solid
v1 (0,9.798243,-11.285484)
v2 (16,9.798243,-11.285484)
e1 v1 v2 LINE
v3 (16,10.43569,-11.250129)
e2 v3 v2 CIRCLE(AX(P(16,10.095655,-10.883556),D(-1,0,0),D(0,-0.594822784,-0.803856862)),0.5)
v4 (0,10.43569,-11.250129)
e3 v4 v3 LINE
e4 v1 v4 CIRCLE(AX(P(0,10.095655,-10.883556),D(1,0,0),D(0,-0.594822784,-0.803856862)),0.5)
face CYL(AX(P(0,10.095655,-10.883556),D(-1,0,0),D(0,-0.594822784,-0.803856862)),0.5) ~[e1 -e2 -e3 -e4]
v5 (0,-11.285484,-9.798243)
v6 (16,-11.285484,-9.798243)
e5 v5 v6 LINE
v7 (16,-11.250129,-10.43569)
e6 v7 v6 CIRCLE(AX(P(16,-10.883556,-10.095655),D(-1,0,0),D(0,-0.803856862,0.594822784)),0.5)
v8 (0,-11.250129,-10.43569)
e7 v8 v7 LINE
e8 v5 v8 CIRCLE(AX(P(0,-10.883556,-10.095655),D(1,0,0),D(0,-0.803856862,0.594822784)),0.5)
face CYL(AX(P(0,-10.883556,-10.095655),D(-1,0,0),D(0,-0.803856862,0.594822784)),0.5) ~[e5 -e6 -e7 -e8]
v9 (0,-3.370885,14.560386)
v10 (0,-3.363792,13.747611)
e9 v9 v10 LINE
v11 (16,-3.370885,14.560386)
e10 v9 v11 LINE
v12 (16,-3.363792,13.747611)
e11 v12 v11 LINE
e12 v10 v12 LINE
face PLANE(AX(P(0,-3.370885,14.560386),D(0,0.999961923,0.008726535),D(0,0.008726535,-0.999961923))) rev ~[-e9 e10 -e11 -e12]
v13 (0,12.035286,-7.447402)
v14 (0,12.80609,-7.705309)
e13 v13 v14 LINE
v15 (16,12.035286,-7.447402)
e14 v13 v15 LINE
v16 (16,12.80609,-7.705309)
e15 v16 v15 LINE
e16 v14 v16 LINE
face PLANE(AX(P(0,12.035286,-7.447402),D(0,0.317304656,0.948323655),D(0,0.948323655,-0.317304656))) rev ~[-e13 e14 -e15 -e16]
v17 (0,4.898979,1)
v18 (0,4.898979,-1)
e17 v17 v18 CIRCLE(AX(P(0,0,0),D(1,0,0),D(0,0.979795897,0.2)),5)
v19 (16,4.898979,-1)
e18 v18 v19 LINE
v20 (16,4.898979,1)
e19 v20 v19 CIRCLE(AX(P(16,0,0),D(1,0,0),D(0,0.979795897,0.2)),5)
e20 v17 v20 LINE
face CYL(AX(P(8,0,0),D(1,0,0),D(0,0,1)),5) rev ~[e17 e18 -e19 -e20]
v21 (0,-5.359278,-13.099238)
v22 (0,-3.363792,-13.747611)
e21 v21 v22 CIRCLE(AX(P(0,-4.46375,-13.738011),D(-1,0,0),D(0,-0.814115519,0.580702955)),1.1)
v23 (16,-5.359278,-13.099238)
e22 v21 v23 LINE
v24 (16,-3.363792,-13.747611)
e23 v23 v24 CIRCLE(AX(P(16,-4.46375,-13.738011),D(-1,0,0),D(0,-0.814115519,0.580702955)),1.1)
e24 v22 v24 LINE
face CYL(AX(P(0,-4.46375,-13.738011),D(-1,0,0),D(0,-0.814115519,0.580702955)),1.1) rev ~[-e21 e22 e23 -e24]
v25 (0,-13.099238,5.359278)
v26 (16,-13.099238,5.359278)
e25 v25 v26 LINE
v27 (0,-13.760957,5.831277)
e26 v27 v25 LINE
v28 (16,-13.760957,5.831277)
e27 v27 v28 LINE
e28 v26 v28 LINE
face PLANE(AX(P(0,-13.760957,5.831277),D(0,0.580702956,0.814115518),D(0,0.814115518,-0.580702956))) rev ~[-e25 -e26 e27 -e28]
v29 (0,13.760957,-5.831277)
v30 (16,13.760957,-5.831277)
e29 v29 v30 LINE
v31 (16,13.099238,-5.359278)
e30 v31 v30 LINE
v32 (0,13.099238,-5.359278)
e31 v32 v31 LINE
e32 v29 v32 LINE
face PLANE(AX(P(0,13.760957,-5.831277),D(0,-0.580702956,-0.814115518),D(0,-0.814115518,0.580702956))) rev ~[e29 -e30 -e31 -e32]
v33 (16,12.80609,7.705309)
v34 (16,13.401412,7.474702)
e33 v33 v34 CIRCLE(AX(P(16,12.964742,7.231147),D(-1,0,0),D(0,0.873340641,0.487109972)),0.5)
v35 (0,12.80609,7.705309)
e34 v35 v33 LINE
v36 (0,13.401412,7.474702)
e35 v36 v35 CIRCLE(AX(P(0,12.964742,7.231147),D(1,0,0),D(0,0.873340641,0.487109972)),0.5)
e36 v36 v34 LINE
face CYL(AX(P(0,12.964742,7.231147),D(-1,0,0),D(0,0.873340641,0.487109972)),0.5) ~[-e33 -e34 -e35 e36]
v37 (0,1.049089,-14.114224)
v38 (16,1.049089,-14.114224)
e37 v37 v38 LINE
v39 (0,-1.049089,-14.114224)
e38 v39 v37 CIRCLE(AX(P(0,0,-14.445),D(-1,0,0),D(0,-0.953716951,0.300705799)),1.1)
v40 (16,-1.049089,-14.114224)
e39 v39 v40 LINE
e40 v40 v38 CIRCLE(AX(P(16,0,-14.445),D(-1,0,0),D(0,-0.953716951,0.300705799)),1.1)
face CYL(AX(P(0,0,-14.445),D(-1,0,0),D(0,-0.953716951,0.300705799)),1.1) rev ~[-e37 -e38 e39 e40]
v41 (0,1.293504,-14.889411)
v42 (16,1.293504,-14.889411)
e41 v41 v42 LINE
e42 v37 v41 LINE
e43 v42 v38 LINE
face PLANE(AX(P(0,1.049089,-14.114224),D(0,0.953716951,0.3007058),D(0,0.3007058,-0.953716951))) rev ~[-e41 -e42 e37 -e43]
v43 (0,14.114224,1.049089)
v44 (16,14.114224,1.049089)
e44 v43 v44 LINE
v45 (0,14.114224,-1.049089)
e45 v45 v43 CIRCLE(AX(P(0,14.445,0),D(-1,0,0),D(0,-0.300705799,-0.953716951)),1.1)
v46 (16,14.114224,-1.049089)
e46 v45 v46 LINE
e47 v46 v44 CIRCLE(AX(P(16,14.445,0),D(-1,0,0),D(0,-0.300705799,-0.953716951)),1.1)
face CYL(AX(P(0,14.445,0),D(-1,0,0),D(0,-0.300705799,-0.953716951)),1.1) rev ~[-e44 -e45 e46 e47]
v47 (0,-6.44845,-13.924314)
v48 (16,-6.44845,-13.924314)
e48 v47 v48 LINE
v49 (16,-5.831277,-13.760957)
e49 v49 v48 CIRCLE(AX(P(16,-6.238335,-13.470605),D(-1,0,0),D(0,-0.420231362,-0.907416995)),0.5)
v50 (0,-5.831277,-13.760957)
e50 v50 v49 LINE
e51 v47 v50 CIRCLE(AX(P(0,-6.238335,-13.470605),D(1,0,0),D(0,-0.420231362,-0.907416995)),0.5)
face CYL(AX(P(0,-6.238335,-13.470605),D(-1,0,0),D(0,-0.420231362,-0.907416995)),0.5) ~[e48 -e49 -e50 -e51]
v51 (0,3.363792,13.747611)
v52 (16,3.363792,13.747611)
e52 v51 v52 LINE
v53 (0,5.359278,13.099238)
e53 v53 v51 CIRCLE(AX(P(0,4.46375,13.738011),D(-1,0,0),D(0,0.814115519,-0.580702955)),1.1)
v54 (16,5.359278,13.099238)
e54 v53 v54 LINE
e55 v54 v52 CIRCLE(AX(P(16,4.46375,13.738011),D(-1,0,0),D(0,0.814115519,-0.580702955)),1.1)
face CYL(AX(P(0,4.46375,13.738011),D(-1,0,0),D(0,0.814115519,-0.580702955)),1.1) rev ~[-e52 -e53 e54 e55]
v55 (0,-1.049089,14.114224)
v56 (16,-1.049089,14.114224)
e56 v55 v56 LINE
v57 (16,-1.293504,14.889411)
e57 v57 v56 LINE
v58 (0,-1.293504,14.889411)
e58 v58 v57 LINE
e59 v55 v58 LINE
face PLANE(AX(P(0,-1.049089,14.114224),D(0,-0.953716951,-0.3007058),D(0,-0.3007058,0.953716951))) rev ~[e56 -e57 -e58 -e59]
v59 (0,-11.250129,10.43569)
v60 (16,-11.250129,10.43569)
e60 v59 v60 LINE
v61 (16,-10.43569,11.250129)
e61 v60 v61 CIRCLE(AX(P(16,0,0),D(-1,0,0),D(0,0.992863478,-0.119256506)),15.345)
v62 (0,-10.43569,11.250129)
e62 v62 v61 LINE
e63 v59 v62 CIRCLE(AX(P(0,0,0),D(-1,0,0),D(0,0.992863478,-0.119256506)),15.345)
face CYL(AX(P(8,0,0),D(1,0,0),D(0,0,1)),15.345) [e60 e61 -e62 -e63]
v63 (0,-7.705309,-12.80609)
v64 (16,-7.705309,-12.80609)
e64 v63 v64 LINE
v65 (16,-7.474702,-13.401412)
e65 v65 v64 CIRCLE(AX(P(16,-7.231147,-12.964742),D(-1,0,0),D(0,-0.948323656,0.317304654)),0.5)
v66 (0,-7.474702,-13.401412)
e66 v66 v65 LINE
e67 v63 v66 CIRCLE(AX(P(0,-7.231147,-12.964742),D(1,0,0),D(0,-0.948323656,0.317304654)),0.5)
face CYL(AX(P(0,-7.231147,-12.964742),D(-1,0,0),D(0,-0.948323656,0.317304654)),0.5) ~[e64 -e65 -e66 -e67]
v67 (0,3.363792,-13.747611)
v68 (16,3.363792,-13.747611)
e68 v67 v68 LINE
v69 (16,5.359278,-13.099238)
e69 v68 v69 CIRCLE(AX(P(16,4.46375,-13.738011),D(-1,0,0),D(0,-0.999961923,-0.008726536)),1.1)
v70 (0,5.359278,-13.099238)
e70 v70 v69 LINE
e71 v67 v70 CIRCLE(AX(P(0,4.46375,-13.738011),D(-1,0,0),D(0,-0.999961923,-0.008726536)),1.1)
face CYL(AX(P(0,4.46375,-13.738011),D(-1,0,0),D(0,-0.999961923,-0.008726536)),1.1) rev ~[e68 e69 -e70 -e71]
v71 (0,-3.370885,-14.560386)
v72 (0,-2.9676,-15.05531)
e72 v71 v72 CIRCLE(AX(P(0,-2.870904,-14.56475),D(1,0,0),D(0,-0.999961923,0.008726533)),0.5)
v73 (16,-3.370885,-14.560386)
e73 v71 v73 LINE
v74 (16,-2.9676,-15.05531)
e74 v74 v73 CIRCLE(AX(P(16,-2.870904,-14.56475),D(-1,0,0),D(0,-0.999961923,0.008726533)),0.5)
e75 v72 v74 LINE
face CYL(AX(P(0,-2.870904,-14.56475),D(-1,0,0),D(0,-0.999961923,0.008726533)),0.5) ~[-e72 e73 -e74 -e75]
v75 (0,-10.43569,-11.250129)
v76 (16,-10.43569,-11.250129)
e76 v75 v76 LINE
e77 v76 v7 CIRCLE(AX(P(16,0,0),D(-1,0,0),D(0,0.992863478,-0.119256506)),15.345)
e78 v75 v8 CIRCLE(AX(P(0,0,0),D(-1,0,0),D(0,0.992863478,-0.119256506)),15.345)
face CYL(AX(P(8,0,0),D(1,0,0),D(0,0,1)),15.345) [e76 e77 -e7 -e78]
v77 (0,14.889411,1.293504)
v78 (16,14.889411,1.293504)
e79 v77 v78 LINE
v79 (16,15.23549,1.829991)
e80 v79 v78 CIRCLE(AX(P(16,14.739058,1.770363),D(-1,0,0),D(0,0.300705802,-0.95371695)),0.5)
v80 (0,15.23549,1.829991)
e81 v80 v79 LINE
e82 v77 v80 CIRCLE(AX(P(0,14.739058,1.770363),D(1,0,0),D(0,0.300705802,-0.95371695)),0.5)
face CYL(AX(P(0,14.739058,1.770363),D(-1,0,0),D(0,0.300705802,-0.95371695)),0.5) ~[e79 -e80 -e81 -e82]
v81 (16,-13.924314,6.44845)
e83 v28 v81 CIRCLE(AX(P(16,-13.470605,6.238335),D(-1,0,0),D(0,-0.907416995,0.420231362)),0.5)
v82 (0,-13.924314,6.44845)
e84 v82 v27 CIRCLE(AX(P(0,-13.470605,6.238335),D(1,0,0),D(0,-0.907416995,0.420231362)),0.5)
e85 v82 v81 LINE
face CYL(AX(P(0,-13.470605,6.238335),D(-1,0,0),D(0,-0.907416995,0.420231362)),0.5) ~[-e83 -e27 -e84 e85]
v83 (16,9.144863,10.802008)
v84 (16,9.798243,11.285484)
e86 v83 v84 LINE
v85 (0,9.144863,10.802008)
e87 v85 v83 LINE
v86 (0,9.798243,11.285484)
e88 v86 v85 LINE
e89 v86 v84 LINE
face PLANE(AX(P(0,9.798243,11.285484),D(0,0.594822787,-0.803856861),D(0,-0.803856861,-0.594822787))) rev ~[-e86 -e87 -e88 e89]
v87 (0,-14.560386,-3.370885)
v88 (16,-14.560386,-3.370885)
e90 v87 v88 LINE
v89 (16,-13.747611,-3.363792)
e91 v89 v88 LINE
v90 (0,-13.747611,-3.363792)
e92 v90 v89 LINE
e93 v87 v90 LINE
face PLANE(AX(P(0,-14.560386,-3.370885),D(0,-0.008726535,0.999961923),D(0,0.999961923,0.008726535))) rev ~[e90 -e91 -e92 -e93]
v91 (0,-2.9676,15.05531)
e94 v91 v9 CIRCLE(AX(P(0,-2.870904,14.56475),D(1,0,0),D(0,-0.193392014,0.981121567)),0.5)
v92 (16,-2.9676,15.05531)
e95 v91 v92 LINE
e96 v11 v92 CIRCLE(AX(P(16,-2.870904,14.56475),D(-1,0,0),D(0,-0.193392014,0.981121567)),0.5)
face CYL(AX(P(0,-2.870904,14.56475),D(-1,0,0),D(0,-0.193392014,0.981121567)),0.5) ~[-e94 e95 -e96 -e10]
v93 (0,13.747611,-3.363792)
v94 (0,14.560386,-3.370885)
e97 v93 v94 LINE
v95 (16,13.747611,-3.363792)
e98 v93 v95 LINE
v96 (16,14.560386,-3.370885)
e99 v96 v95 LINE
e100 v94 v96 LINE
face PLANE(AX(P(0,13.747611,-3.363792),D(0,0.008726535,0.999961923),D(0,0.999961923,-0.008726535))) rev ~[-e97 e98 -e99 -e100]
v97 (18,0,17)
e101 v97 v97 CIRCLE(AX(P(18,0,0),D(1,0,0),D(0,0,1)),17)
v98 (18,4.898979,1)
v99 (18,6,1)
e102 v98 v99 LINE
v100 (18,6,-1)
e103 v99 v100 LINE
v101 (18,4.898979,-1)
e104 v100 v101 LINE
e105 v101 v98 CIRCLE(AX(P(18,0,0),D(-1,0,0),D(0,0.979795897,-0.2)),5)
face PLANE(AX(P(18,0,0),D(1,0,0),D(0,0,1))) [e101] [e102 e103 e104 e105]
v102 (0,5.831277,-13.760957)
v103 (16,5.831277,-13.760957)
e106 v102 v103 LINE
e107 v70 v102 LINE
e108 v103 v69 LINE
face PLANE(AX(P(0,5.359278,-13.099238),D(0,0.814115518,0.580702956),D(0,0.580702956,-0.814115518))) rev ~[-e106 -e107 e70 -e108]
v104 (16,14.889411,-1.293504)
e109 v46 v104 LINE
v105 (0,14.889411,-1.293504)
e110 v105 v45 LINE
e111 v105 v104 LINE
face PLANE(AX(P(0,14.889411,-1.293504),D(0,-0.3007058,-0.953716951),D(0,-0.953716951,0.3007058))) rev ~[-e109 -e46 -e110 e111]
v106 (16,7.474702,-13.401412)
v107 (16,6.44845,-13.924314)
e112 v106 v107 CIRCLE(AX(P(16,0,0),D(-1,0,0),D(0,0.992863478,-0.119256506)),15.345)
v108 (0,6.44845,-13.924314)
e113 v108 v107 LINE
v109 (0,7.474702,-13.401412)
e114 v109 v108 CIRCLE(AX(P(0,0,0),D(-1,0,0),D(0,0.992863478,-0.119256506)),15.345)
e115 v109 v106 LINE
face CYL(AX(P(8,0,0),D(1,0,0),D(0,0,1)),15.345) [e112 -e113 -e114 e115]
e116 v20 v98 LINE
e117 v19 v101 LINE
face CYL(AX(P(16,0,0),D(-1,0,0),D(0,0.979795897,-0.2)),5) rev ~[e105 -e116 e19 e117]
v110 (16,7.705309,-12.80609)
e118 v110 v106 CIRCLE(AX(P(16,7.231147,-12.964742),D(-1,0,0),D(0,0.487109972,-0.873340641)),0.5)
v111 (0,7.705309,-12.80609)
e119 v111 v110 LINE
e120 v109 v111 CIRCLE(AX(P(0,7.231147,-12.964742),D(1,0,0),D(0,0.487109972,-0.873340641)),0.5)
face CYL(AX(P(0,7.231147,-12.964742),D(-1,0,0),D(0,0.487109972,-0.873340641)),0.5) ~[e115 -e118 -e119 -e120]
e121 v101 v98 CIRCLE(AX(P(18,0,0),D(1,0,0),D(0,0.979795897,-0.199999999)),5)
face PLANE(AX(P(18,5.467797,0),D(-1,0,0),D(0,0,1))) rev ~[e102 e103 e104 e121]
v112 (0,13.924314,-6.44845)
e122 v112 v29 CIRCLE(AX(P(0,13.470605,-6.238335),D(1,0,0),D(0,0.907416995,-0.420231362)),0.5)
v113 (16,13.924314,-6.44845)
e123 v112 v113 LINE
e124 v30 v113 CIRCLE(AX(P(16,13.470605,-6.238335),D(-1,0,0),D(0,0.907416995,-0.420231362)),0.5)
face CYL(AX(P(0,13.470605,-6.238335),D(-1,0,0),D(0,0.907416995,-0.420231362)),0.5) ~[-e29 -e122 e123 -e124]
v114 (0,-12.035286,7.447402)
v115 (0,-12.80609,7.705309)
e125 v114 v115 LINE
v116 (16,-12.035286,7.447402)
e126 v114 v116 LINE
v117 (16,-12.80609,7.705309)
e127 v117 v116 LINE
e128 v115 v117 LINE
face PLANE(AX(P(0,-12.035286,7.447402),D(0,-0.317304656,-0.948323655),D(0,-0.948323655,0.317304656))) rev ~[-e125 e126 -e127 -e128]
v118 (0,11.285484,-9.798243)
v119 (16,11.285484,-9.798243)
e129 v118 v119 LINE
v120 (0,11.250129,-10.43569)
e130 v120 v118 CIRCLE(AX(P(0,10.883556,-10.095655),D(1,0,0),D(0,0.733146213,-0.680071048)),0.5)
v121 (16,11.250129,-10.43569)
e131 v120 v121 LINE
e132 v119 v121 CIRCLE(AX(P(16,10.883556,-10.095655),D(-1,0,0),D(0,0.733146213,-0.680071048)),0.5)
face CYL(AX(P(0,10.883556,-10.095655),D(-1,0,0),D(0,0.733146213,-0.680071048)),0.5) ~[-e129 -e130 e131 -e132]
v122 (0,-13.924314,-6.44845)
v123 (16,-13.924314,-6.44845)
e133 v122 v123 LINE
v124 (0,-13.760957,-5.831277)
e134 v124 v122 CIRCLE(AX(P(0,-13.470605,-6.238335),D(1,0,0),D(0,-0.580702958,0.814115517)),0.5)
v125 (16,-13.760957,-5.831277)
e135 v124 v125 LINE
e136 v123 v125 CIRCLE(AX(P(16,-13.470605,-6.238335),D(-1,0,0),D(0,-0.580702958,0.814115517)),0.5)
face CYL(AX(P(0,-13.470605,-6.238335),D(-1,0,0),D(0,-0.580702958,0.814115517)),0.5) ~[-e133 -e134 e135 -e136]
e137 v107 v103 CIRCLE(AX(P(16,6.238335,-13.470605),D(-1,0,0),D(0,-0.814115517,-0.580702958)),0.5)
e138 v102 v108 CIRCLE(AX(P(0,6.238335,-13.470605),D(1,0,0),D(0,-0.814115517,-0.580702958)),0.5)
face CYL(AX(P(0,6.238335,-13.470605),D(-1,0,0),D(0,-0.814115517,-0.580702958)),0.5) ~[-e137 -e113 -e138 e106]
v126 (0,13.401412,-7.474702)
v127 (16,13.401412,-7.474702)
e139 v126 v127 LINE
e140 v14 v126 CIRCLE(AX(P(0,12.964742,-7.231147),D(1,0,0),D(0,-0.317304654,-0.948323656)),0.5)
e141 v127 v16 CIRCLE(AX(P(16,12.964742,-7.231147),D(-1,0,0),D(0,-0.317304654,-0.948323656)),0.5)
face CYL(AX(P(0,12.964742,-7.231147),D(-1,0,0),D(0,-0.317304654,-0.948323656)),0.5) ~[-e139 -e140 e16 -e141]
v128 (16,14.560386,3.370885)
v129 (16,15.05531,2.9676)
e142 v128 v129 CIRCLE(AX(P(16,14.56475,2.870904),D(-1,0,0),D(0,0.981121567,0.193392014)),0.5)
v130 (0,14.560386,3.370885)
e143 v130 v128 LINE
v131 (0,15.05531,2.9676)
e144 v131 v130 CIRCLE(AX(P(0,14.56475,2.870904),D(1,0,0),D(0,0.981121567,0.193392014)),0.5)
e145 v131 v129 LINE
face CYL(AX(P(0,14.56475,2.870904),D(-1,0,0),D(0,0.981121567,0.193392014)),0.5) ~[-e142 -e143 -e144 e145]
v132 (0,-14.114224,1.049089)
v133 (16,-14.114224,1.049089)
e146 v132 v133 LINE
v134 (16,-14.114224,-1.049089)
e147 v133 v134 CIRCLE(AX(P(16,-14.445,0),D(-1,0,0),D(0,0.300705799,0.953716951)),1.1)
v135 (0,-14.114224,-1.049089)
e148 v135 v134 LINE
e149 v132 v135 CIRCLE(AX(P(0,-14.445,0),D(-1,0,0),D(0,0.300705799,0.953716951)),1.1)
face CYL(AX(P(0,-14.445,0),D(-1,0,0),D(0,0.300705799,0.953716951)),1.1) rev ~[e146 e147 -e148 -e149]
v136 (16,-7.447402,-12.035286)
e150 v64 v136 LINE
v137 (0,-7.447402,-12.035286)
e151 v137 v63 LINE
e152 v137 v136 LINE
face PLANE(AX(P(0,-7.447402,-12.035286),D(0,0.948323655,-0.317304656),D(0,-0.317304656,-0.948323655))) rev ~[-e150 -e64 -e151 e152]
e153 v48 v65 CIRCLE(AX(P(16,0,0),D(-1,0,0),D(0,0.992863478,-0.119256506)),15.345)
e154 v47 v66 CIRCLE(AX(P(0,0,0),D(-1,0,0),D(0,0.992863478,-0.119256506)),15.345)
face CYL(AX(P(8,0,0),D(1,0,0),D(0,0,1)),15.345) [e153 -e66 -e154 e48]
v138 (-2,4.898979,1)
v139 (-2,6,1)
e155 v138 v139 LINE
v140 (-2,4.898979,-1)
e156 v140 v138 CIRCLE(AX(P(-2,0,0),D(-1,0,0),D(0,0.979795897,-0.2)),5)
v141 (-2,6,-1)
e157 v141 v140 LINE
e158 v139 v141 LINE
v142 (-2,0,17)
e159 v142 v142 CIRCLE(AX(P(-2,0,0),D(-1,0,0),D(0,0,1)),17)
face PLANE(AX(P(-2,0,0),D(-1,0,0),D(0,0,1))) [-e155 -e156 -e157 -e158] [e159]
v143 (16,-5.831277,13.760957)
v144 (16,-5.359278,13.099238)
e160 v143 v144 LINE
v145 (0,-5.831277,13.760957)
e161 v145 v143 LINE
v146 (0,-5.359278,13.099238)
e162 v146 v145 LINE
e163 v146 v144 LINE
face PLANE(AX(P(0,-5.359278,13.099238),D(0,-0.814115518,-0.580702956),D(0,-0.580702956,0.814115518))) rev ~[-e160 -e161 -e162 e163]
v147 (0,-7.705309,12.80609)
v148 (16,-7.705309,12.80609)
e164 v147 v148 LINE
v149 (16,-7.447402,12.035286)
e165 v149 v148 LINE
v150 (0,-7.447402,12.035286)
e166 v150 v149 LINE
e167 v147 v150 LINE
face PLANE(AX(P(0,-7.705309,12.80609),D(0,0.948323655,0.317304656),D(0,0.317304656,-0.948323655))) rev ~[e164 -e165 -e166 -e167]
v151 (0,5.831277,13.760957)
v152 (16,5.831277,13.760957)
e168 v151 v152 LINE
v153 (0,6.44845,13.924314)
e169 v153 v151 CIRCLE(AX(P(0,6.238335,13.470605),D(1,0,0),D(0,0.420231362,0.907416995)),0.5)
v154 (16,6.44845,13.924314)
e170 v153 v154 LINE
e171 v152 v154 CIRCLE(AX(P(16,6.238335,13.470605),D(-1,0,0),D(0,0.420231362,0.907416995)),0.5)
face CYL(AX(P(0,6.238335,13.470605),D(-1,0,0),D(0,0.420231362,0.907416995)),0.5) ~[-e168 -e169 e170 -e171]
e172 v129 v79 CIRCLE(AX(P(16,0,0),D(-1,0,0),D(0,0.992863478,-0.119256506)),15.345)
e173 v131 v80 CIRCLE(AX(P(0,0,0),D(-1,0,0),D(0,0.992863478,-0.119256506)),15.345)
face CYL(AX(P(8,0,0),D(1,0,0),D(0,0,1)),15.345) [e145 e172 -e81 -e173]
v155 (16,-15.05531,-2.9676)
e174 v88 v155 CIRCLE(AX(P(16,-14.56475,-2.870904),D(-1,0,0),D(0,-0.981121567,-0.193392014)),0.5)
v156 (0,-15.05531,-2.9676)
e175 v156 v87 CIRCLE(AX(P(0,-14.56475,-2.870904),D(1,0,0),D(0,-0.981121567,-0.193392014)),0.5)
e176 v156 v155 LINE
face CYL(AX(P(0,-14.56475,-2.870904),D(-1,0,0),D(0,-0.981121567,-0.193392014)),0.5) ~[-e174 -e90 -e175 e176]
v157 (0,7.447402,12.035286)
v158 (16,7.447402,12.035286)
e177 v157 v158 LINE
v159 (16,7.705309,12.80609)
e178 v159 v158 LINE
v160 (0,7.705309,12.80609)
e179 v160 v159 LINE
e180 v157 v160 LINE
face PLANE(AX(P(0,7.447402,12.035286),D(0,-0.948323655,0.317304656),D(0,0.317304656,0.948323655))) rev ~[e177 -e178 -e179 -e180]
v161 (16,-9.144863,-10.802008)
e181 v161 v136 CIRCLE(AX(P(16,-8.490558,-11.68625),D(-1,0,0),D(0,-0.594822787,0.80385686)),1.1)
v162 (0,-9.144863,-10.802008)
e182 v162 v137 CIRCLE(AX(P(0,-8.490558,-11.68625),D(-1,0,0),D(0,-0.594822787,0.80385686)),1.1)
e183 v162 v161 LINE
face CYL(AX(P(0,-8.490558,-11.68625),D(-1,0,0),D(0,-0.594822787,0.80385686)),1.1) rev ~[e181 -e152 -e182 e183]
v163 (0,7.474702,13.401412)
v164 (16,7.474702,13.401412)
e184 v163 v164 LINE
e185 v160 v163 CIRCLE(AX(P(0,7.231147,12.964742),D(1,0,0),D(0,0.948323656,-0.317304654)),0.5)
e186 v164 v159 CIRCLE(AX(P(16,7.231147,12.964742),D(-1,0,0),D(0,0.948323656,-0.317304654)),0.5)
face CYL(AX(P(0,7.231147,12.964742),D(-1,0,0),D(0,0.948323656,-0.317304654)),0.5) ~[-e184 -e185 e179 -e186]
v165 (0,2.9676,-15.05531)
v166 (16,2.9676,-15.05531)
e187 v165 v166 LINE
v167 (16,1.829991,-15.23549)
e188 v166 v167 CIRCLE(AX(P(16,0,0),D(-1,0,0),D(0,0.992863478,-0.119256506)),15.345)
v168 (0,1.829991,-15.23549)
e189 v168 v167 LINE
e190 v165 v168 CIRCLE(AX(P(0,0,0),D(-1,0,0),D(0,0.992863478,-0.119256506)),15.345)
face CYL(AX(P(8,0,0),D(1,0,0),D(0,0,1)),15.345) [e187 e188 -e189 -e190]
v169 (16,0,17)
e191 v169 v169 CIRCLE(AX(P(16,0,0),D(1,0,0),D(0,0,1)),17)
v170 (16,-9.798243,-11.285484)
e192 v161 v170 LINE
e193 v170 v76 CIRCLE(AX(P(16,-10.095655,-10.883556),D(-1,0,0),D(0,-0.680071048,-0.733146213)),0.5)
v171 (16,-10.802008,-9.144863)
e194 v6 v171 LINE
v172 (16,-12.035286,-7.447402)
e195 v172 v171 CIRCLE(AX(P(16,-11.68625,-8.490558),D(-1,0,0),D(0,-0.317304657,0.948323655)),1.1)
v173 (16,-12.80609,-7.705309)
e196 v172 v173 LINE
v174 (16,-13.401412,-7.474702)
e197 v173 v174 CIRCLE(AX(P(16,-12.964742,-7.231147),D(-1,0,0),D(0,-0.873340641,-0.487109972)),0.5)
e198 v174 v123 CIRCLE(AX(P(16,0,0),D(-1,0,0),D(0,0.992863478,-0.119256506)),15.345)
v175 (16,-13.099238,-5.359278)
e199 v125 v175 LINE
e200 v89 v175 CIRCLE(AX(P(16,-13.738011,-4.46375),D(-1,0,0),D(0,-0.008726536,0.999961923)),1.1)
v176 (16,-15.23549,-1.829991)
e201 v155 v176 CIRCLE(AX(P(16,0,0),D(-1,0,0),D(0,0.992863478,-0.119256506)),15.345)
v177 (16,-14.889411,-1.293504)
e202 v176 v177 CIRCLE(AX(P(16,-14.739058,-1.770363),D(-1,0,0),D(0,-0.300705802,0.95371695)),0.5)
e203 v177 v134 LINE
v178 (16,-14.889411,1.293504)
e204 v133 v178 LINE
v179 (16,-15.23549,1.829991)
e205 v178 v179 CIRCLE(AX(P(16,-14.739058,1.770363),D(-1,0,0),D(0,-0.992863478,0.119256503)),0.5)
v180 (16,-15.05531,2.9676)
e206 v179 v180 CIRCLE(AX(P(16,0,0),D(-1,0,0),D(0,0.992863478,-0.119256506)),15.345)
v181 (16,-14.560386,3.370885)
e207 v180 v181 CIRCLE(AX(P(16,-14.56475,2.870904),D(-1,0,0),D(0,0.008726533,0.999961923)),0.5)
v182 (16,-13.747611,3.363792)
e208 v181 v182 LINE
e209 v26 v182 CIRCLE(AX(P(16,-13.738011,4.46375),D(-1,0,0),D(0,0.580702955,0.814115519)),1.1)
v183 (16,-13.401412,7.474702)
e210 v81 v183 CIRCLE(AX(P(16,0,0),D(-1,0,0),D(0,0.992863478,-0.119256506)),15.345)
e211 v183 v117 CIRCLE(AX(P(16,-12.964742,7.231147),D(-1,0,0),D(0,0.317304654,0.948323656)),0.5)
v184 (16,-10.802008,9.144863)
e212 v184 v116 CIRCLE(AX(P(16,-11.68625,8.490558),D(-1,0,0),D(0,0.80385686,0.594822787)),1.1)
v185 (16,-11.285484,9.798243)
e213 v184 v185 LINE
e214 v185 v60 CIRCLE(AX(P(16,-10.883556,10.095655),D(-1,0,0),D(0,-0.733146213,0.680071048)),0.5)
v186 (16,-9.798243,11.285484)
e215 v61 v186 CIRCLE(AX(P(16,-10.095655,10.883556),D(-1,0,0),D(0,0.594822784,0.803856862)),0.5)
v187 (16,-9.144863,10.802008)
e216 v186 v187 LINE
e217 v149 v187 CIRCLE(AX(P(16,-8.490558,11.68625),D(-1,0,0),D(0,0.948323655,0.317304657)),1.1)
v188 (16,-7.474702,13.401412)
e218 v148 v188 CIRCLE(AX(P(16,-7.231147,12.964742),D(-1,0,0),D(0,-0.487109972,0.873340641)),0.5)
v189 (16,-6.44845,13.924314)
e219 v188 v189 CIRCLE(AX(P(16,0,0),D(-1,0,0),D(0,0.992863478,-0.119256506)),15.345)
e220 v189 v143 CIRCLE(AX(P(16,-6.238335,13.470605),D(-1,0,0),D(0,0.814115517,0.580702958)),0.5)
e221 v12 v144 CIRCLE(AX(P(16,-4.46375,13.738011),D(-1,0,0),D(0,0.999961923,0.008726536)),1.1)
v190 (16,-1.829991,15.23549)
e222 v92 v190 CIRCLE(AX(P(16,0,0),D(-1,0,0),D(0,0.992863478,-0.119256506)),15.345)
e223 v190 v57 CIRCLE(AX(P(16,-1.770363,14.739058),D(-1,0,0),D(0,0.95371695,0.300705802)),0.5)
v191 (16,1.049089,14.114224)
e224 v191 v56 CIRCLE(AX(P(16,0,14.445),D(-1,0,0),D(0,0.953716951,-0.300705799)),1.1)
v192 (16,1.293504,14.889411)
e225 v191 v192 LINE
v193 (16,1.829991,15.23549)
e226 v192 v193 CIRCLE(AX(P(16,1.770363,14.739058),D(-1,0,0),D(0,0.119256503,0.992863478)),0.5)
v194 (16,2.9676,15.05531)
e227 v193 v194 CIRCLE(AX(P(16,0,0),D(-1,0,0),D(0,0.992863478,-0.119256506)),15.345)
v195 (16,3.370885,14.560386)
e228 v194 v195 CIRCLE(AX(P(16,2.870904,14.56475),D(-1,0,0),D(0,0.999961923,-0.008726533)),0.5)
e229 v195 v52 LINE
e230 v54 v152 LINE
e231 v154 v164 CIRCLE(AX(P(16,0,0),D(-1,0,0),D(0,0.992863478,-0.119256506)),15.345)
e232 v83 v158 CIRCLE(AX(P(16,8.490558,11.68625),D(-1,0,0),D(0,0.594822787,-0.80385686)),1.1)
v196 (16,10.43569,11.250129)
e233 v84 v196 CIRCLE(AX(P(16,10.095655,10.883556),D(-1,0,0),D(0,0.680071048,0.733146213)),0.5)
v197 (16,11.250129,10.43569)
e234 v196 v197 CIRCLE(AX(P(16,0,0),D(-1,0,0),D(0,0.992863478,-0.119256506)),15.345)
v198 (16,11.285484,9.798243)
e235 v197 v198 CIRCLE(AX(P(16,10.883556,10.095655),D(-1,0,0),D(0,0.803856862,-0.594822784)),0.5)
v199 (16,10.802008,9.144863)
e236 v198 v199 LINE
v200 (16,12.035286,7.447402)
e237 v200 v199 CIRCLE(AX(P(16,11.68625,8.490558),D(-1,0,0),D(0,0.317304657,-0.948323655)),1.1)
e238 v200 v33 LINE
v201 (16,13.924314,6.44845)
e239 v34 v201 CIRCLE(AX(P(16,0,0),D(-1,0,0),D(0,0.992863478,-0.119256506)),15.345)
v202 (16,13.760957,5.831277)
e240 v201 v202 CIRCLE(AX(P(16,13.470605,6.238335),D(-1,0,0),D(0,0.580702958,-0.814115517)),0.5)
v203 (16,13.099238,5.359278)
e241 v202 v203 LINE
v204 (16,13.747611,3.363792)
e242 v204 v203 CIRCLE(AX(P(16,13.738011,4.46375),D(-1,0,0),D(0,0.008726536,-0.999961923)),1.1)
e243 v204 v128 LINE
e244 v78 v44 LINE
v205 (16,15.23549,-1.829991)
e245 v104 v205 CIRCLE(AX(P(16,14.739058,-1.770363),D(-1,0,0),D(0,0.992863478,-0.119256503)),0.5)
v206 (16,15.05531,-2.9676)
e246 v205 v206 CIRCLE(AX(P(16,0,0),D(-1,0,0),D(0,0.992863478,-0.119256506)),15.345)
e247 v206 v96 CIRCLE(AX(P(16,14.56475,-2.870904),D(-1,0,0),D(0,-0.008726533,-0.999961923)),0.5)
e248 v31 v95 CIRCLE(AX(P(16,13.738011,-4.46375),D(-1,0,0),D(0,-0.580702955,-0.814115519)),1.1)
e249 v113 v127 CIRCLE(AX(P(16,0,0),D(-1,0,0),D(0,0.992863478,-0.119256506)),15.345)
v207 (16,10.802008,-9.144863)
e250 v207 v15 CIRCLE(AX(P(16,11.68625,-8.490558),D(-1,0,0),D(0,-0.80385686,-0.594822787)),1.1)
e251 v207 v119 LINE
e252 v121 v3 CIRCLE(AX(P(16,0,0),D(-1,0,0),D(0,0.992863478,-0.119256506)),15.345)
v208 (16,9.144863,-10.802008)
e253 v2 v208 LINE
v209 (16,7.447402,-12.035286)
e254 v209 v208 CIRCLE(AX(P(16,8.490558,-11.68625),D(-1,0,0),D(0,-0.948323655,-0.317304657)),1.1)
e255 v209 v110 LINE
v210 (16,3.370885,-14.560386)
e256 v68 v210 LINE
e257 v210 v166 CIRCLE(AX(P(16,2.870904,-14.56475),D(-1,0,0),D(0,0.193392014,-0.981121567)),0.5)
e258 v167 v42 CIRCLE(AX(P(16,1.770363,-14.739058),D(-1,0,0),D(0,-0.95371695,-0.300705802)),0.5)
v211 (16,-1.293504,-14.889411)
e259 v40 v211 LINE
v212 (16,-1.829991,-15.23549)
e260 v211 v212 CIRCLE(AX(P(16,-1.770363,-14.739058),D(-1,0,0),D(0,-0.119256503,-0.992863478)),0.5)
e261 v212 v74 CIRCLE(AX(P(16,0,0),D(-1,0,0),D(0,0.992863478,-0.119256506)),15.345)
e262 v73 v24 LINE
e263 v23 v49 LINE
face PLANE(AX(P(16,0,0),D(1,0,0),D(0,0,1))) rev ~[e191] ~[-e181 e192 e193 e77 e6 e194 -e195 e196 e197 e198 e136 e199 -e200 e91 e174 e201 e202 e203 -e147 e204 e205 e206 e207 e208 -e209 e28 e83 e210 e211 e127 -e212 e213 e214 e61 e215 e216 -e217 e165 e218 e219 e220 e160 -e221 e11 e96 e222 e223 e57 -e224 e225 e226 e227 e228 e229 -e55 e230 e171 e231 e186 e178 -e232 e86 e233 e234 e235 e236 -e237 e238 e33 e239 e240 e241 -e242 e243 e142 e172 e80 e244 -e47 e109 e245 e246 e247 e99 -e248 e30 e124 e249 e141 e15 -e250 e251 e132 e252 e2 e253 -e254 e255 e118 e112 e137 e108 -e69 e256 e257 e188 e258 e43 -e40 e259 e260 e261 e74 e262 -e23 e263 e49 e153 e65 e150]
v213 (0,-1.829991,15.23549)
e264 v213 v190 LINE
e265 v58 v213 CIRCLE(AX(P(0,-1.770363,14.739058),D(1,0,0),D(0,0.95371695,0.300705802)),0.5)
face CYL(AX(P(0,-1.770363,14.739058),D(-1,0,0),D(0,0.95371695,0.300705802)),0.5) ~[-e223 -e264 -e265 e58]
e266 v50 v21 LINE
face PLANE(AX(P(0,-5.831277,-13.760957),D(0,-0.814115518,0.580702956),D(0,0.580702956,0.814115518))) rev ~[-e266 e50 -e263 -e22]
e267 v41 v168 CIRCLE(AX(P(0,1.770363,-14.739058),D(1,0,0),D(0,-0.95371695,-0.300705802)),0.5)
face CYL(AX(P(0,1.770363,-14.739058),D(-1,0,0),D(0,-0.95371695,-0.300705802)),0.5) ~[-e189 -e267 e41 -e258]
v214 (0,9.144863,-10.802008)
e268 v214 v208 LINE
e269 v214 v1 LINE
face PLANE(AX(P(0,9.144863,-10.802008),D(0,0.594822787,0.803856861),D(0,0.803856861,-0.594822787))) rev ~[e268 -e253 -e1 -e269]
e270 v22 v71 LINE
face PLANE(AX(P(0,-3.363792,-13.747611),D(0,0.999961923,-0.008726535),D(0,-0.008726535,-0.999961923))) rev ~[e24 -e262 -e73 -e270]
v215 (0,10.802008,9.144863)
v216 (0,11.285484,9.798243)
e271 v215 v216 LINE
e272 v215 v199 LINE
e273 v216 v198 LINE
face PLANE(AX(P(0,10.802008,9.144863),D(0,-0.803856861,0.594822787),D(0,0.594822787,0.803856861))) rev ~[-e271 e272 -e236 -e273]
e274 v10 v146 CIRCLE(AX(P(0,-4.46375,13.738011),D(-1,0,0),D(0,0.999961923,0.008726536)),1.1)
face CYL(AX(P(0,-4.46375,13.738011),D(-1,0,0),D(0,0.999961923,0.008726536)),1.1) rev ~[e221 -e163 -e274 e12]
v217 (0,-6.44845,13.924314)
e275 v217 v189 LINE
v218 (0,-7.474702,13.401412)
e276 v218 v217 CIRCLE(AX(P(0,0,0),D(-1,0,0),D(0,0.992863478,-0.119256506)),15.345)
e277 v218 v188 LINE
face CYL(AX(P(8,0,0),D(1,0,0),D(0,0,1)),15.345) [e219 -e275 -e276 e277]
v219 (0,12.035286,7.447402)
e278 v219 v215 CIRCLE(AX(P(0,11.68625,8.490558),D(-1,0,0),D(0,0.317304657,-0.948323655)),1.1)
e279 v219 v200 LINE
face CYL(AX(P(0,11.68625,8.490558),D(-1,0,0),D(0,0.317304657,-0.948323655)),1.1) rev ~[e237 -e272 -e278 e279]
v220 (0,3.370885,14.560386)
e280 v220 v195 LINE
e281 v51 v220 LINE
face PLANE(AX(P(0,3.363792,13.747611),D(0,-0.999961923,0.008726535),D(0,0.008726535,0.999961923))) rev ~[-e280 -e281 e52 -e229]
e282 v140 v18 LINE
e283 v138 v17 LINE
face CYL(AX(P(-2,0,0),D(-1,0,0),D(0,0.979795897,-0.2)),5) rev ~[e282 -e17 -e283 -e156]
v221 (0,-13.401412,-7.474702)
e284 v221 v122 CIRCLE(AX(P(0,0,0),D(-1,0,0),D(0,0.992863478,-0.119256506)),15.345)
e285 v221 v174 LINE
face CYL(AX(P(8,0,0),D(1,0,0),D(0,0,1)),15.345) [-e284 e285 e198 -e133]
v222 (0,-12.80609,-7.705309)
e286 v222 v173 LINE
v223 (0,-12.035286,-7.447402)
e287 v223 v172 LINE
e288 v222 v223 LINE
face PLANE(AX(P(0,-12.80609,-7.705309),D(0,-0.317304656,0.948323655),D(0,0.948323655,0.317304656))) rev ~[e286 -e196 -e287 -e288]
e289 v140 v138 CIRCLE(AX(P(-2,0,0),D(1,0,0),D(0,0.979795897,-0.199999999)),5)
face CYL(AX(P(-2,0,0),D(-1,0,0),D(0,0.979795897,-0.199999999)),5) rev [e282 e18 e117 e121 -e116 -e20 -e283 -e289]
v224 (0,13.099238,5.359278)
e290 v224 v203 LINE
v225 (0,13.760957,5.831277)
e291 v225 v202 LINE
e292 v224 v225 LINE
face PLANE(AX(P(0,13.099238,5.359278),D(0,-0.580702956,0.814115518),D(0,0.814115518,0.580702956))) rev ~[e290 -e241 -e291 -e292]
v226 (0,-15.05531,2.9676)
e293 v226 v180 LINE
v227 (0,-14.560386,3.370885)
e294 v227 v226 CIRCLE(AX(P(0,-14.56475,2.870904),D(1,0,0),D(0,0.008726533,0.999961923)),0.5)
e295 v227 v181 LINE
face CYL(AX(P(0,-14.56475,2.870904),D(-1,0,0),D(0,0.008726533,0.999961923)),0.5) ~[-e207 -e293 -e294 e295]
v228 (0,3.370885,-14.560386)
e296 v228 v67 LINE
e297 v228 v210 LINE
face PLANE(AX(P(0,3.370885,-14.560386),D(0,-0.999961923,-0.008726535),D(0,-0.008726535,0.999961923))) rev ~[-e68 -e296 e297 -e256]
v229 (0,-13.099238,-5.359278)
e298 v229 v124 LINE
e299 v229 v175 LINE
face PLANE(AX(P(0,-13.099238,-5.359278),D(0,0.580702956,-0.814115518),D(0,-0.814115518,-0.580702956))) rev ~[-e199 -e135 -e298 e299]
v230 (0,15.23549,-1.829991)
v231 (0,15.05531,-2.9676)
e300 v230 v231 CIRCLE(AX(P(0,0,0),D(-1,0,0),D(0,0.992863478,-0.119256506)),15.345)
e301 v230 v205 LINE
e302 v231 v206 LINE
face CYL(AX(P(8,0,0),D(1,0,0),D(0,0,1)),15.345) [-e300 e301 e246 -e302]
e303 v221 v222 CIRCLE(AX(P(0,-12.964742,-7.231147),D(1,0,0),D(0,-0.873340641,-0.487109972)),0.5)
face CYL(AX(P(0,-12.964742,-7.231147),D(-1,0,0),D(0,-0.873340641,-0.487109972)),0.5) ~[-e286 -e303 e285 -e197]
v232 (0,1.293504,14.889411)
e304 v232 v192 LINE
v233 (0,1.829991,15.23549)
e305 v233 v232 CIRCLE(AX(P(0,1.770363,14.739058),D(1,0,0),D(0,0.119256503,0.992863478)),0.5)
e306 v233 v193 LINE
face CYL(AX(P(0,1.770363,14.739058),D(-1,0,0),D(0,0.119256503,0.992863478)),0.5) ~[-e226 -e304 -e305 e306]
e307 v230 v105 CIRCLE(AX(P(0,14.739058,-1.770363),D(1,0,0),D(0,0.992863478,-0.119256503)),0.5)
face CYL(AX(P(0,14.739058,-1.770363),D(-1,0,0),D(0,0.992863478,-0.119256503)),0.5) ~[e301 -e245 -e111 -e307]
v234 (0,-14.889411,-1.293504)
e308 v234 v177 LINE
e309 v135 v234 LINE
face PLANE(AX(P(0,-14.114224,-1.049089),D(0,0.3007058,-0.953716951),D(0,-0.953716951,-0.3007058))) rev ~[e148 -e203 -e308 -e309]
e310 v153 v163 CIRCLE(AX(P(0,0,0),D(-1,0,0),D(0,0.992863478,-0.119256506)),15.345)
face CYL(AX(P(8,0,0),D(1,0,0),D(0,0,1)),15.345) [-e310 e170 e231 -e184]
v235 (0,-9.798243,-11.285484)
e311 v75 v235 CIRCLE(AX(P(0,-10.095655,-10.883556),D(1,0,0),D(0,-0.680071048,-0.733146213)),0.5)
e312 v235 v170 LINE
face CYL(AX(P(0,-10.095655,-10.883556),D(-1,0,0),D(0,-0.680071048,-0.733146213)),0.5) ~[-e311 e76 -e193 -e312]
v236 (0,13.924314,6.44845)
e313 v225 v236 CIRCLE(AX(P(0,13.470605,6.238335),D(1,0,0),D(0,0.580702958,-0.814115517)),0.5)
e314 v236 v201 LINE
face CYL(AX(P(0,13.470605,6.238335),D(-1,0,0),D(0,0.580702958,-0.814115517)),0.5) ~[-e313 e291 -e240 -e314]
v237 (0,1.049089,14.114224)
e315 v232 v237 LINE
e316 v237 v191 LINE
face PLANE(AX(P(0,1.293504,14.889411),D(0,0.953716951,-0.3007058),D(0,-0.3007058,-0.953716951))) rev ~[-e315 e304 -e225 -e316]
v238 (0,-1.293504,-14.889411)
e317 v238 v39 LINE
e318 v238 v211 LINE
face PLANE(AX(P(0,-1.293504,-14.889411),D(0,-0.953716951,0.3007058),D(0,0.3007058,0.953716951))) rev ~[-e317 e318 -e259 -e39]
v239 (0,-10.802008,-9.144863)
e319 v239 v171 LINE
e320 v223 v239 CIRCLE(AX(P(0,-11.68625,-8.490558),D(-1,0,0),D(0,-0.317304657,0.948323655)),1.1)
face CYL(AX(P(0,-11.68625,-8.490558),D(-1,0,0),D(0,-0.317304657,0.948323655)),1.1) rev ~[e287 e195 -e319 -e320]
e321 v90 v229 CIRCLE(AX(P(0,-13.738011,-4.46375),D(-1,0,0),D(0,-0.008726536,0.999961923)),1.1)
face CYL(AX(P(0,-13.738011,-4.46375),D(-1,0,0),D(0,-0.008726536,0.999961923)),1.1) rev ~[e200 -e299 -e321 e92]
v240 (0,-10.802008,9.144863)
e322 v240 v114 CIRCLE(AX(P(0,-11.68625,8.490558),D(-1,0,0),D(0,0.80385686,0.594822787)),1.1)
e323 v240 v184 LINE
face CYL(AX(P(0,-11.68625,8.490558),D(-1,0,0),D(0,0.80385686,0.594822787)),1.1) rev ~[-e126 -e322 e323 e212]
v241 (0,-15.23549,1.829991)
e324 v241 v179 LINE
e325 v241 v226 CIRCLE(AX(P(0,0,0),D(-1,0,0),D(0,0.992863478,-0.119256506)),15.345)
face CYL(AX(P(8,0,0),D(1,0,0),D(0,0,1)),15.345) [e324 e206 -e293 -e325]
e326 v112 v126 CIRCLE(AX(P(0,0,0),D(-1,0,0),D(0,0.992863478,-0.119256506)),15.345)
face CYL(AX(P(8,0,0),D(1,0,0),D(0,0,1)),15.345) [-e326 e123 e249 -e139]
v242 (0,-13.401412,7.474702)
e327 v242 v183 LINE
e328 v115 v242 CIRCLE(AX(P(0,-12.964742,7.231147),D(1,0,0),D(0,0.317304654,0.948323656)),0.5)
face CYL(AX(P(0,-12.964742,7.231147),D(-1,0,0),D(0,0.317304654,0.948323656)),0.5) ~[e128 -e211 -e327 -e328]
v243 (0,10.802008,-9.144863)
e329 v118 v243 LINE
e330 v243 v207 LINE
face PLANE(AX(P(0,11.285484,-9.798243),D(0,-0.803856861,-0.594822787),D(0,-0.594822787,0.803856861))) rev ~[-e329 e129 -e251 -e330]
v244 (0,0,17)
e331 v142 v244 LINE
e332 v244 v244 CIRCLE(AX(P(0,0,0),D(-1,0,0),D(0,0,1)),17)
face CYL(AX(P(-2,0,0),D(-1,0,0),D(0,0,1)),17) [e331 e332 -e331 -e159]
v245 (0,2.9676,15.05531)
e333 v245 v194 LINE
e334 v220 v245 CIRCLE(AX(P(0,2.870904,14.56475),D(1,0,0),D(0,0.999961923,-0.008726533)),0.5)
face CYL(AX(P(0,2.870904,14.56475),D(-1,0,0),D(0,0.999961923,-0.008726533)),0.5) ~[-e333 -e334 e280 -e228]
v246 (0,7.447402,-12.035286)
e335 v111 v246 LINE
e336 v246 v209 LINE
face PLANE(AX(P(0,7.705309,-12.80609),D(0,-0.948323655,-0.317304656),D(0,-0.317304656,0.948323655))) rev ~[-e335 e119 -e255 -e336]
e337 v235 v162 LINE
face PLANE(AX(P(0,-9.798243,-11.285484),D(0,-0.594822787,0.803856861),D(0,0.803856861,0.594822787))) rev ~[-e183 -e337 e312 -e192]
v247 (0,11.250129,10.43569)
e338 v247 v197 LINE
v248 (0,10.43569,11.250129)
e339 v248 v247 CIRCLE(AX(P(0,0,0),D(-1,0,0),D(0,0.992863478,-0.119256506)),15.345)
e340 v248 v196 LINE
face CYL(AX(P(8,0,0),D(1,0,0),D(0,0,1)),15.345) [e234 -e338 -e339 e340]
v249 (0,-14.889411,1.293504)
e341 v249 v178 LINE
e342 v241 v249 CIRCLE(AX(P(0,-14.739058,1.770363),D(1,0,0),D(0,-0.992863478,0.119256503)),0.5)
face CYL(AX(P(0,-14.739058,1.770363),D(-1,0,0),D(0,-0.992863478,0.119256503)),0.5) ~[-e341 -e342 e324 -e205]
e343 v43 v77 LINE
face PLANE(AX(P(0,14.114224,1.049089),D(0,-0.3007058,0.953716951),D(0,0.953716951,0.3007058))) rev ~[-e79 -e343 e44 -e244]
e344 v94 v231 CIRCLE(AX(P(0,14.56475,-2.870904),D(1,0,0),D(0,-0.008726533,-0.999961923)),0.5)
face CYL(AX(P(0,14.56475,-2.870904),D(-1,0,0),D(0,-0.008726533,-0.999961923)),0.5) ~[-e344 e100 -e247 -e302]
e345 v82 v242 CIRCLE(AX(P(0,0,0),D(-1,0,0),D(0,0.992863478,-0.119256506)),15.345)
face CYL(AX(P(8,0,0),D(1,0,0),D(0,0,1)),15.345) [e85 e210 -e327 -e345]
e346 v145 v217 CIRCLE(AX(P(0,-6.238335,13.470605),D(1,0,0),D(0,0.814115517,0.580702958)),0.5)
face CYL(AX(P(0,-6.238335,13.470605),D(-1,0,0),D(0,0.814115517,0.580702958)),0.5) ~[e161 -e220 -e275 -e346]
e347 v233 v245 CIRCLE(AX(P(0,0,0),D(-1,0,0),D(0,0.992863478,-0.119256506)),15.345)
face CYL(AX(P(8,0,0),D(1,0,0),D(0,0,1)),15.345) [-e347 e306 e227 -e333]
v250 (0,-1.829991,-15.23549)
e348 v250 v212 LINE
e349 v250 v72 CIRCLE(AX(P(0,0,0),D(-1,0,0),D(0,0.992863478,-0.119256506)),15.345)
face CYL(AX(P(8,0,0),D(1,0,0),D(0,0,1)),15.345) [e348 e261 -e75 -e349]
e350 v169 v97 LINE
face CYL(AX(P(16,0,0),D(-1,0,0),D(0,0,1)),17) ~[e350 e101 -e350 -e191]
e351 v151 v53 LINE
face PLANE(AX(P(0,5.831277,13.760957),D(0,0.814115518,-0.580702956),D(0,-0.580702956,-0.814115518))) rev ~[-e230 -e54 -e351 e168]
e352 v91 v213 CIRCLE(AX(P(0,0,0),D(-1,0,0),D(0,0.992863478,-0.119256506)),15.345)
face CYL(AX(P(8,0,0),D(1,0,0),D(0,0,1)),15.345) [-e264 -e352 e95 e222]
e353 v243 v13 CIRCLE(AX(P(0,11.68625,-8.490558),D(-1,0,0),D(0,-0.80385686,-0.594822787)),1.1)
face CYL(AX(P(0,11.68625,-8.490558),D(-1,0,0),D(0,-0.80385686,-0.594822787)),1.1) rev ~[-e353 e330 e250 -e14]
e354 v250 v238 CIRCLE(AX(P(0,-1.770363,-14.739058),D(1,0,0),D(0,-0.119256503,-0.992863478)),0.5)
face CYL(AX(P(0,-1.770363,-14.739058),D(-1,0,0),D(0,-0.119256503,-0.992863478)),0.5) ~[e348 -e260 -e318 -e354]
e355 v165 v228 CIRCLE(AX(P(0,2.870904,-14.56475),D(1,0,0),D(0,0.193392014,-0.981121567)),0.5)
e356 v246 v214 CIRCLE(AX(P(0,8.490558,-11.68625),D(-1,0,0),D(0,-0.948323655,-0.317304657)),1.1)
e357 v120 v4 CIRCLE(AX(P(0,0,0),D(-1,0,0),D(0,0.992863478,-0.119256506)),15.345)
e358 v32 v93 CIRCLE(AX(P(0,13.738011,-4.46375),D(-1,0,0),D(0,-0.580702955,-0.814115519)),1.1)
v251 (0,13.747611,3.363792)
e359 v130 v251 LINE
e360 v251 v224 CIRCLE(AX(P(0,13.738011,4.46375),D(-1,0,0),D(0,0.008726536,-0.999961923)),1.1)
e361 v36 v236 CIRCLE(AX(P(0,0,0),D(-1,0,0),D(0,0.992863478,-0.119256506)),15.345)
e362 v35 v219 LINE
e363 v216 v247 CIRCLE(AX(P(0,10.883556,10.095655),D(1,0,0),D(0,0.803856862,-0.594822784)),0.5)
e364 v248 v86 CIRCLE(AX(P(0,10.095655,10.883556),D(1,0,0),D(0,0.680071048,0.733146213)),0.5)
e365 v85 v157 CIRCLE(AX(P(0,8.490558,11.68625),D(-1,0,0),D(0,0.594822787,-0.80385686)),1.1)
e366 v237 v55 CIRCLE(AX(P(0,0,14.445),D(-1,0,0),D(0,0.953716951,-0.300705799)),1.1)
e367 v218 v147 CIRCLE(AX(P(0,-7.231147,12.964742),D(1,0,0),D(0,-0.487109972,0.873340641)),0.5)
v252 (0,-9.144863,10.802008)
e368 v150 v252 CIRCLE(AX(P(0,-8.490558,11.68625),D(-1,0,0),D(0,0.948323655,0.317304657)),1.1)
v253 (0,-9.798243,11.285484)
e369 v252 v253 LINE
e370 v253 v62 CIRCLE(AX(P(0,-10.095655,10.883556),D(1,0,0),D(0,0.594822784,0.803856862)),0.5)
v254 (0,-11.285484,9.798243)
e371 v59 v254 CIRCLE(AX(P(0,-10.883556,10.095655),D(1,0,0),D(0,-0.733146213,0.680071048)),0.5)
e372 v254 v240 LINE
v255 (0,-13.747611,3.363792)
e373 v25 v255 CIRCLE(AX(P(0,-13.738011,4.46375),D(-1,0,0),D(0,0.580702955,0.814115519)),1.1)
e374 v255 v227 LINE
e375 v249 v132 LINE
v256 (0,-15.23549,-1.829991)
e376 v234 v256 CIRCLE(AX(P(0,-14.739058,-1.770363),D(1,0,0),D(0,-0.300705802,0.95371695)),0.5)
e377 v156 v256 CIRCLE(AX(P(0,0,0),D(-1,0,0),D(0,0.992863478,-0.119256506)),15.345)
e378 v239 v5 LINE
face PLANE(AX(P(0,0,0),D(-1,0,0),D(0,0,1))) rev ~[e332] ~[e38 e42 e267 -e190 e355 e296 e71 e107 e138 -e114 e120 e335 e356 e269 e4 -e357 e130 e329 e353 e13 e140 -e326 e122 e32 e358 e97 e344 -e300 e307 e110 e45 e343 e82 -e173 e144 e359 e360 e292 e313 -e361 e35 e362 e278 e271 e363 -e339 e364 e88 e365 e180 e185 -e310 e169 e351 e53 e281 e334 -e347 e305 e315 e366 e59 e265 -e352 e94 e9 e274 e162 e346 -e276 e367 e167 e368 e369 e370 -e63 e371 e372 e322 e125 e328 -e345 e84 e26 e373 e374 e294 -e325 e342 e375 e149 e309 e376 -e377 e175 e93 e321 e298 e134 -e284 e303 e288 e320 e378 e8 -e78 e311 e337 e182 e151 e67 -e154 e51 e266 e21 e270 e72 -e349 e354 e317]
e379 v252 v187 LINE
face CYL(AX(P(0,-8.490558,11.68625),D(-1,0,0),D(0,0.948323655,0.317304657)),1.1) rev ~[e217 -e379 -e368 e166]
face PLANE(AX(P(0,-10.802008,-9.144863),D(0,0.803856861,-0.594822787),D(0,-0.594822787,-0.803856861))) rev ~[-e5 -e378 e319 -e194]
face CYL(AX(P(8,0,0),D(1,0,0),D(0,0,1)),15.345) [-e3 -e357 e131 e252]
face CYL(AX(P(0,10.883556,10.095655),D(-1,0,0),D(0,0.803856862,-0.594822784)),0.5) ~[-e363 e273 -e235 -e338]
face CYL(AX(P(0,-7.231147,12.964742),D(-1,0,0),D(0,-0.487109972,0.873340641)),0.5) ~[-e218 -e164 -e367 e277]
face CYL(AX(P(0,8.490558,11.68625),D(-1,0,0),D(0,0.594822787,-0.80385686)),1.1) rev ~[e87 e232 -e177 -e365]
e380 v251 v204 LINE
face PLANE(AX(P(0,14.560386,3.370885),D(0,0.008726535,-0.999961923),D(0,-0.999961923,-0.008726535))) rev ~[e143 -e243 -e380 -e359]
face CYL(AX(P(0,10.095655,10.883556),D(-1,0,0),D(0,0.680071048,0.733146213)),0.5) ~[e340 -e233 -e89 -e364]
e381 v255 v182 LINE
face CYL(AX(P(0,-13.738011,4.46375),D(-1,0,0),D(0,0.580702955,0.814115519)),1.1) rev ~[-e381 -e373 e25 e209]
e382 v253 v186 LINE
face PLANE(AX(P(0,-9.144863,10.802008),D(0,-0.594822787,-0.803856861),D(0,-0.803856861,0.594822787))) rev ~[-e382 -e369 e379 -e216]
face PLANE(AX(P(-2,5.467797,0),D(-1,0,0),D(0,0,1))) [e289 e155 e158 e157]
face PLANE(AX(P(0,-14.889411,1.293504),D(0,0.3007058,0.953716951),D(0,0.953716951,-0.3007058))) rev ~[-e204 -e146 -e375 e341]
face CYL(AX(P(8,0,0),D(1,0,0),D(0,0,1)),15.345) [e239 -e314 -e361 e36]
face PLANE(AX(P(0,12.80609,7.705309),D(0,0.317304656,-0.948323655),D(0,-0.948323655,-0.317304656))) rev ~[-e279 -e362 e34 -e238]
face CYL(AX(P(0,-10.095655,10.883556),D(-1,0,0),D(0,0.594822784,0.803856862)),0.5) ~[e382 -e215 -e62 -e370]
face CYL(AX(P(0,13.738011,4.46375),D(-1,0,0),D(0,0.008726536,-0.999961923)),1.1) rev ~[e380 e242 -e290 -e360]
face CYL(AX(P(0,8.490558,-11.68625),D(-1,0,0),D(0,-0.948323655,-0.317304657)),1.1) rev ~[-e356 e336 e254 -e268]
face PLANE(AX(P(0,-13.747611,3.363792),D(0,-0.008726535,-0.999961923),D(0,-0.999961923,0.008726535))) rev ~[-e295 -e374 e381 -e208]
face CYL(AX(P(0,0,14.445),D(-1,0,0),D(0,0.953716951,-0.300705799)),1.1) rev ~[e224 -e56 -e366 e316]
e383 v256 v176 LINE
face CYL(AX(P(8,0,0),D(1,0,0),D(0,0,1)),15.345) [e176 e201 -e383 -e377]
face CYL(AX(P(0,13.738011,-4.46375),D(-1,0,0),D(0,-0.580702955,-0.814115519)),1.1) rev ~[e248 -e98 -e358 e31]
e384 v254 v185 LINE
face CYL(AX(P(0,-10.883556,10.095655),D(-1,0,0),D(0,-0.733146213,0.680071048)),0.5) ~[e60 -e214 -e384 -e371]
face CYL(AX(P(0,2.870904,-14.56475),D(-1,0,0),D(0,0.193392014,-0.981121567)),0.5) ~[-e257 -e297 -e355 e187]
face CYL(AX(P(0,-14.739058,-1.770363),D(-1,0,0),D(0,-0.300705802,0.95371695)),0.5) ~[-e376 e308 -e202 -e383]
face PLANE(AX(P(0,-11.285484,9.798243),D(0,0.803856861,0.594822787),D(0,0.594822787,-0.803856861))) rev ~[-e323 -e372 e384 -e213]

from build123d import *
from build123d.topology import SkipClean

# Parameters (mm, degrees)
SKETCH_1_W               = 16
SKETCH_1_H               = 10.345
SKETCH_4_W               = 2
SKETCH_4_H               = 1.101020514
CUT_EXTRUDE_1_DEPTH      = 27.961788702
CUT_EXTRUDE_2_REACH      = 28.962
PATTERN_CIRCULAR_3_COUNT = 20
EXTRUDE_START            = 2
SKETCH_7_R               = 17
EXTRUDE_1_DEPTH          = 2
SKETCH_8_R               = 17
EXTRUDE_2_DEPTH          = 2
EXTRUDE_START_2          = -20
EXTRUDE_3_DEPTH          = 20


with BuildPart() as part:
    # 草图1 → 旋转1 (revolve)
    with BuildSketch(Plane.XY, mode=Mode.PRIVATE) as revolve_1_sk:
        with Locations((8, 10.1725)):
            Rectangle(SKETCH_1_W, SKETCH_1_H)
    revolve(revolve_1_sk.sketch.rotate(Axis((0, 0, 0), (1, 0, 0)), 90), axis=Axis((0, 0, 0), (1, 0, 0)))

    # 草图4 → 切除-拉伸1 (cut, through all)
    with BuildSketch(Plane.ZY):
        with Locations((0, 5.449489743)):
            Rectangle(SKETCH_4_W, SKETCH_4_H)
    extrude(amount=-CUT_EXTRUDE_1_DEPTH, mode=Mode.SUBTRACT)

    # 草图6 → 切除-拉伸2 (cut, up to next)
    with BuildSketch(Plane(origin=(0, 0, 0), x_dir=(0, 0, -1), z_dir=(1, 0, 0)), mode=Mode.PRIVATE) as cut_extrude_2_sk1:
        with BuildLine():
            Line((1.29350436, 14.889411229), (1.049088646, 14.114223621))
            ThreePointArc((1.049088646, 14.114223621), (0, 13.345), (-1.049088646, 14.114223621))
            Line((-1.049088646, 14.114223621), (-1.29350436, 14.889411229))
            ThreePointArc((-1.29350436, 14.889411229), (-1.499322423, 15.159221505), (-1.829991088, 15.235490068))
            ThreePointArc((-1.829991088, 15.235490068), (-2.077964077, 15.203653847), (-2.325385479, 15.167781887))
            Line((-2.325385479, 15.167781887), (-2.810603409, 16.706696553))
            ThreePointArc((-2.810603409, 16.706696553), (0, 16.941463964), (2.810603409, 16.706696553))
            Line((2.810603409, 16.706696553), (2.325385479, 15.167781887))
            ThreePointArc((2.325385479, 15.167781887), (2.077964077, 15.203653847), (1.829991088, 15.235490068))
            ThreePointArc((1.829991088, 15.235490068), (1.499322423, 15.159221505), (1.29350436, 14.889411229))
        make_face()
    cut_extrude_2_tool1 = extrude(cut_extrude_2_sk1.sketch, amount=CUT_EXTRUDE_2_REACH, mode=Mode.PRIVATE) & part.part
    cut_extrude_2 = cut_extrude_2_tool1.solids().sort_by_distance((0, 15.551967, 0))[0]
    add(cut_extrude_2, mode=Mode.SUBTRACT)

    # 阵列(圆周)3: 切除-拉伸2 ×20 about axis
    pattern_circular_3_axis = Axis((0, 0, 0), (1, 0, 0))
    for i in range(1, PATTERN_CIRCULAR_3_COUNT):
        add(cut_extrude_2.rotate(pattern_circular_3_axis, i * 360 / PATTERN_CIRCULAR_3_COUNT), mode=Mode.SUBTRACT)

    # 草图7 → 凸台-拉伸1 (add)
    with BuildSketch(Plane.ZY.offset(EXTRUDE_START)):
        Circle(SKETCH_7_R)
        with BuildLine():
            Line((-1, 6), (-1, 4.898979486))
            ThreePointArc((-1, 4.898979486), (0, -5), (1, 4.898979486))
            Line((1, 4.898979486), (1, 6))
            Line((1, 6), (-1, 6))
        make_face(mode=Mode.SUBTRACT)
    extrude(amount=-EXTRUDE_1_DEPTH)

    # 草图8 → 凸台-拉伸2 (add)
    with BuildSketch(Plane(origin=(16, 0, 0), x_dir=(0, 0, -1), z_dir=(1, 0, 0))):
        with Locations(Location((0, 0, 0), (0, 0, 180))):
            Circle(SKETCH_8_R)
        with BuildLine():
            Line((1, 6), (1, 4.898979486))
            ThreePointArc((1, 4.898979486), (0, -5), (-1, 4.898979486))
            Line((-1, 4.898979486), (-1, 6))
            Line((-1, 6), (1, 6))
        make_face(mode=Mode.SUBTRACT)
    extrude(amount=EXTRUDE_2_DEPTH)

    # 草图9 → 凸台-拉伸3 (add)
    with SkipClean():  # the faces are left unmerged after this step: merging them gives an invalid solid
        with BuildSketch(Plane(origin=(18, 0, 0), x_dir=(0, 0, -1), z_dir=(1, 0, 0)).offset(EXTRUDE_START_2)):
            with BuildLine():
                Line((-1, 4.898979486), (-1, 6))
                Line((-1, 6), (1, 6))
                Line((1, 6), (1, 4.898979486))
                ThreePointArc((1, 4.898979486), (0, 5), (-1, 4.898979486))
            make_face()
        extrude(amount=EXTRUDE_3_DEPTH)


solid = part.part
